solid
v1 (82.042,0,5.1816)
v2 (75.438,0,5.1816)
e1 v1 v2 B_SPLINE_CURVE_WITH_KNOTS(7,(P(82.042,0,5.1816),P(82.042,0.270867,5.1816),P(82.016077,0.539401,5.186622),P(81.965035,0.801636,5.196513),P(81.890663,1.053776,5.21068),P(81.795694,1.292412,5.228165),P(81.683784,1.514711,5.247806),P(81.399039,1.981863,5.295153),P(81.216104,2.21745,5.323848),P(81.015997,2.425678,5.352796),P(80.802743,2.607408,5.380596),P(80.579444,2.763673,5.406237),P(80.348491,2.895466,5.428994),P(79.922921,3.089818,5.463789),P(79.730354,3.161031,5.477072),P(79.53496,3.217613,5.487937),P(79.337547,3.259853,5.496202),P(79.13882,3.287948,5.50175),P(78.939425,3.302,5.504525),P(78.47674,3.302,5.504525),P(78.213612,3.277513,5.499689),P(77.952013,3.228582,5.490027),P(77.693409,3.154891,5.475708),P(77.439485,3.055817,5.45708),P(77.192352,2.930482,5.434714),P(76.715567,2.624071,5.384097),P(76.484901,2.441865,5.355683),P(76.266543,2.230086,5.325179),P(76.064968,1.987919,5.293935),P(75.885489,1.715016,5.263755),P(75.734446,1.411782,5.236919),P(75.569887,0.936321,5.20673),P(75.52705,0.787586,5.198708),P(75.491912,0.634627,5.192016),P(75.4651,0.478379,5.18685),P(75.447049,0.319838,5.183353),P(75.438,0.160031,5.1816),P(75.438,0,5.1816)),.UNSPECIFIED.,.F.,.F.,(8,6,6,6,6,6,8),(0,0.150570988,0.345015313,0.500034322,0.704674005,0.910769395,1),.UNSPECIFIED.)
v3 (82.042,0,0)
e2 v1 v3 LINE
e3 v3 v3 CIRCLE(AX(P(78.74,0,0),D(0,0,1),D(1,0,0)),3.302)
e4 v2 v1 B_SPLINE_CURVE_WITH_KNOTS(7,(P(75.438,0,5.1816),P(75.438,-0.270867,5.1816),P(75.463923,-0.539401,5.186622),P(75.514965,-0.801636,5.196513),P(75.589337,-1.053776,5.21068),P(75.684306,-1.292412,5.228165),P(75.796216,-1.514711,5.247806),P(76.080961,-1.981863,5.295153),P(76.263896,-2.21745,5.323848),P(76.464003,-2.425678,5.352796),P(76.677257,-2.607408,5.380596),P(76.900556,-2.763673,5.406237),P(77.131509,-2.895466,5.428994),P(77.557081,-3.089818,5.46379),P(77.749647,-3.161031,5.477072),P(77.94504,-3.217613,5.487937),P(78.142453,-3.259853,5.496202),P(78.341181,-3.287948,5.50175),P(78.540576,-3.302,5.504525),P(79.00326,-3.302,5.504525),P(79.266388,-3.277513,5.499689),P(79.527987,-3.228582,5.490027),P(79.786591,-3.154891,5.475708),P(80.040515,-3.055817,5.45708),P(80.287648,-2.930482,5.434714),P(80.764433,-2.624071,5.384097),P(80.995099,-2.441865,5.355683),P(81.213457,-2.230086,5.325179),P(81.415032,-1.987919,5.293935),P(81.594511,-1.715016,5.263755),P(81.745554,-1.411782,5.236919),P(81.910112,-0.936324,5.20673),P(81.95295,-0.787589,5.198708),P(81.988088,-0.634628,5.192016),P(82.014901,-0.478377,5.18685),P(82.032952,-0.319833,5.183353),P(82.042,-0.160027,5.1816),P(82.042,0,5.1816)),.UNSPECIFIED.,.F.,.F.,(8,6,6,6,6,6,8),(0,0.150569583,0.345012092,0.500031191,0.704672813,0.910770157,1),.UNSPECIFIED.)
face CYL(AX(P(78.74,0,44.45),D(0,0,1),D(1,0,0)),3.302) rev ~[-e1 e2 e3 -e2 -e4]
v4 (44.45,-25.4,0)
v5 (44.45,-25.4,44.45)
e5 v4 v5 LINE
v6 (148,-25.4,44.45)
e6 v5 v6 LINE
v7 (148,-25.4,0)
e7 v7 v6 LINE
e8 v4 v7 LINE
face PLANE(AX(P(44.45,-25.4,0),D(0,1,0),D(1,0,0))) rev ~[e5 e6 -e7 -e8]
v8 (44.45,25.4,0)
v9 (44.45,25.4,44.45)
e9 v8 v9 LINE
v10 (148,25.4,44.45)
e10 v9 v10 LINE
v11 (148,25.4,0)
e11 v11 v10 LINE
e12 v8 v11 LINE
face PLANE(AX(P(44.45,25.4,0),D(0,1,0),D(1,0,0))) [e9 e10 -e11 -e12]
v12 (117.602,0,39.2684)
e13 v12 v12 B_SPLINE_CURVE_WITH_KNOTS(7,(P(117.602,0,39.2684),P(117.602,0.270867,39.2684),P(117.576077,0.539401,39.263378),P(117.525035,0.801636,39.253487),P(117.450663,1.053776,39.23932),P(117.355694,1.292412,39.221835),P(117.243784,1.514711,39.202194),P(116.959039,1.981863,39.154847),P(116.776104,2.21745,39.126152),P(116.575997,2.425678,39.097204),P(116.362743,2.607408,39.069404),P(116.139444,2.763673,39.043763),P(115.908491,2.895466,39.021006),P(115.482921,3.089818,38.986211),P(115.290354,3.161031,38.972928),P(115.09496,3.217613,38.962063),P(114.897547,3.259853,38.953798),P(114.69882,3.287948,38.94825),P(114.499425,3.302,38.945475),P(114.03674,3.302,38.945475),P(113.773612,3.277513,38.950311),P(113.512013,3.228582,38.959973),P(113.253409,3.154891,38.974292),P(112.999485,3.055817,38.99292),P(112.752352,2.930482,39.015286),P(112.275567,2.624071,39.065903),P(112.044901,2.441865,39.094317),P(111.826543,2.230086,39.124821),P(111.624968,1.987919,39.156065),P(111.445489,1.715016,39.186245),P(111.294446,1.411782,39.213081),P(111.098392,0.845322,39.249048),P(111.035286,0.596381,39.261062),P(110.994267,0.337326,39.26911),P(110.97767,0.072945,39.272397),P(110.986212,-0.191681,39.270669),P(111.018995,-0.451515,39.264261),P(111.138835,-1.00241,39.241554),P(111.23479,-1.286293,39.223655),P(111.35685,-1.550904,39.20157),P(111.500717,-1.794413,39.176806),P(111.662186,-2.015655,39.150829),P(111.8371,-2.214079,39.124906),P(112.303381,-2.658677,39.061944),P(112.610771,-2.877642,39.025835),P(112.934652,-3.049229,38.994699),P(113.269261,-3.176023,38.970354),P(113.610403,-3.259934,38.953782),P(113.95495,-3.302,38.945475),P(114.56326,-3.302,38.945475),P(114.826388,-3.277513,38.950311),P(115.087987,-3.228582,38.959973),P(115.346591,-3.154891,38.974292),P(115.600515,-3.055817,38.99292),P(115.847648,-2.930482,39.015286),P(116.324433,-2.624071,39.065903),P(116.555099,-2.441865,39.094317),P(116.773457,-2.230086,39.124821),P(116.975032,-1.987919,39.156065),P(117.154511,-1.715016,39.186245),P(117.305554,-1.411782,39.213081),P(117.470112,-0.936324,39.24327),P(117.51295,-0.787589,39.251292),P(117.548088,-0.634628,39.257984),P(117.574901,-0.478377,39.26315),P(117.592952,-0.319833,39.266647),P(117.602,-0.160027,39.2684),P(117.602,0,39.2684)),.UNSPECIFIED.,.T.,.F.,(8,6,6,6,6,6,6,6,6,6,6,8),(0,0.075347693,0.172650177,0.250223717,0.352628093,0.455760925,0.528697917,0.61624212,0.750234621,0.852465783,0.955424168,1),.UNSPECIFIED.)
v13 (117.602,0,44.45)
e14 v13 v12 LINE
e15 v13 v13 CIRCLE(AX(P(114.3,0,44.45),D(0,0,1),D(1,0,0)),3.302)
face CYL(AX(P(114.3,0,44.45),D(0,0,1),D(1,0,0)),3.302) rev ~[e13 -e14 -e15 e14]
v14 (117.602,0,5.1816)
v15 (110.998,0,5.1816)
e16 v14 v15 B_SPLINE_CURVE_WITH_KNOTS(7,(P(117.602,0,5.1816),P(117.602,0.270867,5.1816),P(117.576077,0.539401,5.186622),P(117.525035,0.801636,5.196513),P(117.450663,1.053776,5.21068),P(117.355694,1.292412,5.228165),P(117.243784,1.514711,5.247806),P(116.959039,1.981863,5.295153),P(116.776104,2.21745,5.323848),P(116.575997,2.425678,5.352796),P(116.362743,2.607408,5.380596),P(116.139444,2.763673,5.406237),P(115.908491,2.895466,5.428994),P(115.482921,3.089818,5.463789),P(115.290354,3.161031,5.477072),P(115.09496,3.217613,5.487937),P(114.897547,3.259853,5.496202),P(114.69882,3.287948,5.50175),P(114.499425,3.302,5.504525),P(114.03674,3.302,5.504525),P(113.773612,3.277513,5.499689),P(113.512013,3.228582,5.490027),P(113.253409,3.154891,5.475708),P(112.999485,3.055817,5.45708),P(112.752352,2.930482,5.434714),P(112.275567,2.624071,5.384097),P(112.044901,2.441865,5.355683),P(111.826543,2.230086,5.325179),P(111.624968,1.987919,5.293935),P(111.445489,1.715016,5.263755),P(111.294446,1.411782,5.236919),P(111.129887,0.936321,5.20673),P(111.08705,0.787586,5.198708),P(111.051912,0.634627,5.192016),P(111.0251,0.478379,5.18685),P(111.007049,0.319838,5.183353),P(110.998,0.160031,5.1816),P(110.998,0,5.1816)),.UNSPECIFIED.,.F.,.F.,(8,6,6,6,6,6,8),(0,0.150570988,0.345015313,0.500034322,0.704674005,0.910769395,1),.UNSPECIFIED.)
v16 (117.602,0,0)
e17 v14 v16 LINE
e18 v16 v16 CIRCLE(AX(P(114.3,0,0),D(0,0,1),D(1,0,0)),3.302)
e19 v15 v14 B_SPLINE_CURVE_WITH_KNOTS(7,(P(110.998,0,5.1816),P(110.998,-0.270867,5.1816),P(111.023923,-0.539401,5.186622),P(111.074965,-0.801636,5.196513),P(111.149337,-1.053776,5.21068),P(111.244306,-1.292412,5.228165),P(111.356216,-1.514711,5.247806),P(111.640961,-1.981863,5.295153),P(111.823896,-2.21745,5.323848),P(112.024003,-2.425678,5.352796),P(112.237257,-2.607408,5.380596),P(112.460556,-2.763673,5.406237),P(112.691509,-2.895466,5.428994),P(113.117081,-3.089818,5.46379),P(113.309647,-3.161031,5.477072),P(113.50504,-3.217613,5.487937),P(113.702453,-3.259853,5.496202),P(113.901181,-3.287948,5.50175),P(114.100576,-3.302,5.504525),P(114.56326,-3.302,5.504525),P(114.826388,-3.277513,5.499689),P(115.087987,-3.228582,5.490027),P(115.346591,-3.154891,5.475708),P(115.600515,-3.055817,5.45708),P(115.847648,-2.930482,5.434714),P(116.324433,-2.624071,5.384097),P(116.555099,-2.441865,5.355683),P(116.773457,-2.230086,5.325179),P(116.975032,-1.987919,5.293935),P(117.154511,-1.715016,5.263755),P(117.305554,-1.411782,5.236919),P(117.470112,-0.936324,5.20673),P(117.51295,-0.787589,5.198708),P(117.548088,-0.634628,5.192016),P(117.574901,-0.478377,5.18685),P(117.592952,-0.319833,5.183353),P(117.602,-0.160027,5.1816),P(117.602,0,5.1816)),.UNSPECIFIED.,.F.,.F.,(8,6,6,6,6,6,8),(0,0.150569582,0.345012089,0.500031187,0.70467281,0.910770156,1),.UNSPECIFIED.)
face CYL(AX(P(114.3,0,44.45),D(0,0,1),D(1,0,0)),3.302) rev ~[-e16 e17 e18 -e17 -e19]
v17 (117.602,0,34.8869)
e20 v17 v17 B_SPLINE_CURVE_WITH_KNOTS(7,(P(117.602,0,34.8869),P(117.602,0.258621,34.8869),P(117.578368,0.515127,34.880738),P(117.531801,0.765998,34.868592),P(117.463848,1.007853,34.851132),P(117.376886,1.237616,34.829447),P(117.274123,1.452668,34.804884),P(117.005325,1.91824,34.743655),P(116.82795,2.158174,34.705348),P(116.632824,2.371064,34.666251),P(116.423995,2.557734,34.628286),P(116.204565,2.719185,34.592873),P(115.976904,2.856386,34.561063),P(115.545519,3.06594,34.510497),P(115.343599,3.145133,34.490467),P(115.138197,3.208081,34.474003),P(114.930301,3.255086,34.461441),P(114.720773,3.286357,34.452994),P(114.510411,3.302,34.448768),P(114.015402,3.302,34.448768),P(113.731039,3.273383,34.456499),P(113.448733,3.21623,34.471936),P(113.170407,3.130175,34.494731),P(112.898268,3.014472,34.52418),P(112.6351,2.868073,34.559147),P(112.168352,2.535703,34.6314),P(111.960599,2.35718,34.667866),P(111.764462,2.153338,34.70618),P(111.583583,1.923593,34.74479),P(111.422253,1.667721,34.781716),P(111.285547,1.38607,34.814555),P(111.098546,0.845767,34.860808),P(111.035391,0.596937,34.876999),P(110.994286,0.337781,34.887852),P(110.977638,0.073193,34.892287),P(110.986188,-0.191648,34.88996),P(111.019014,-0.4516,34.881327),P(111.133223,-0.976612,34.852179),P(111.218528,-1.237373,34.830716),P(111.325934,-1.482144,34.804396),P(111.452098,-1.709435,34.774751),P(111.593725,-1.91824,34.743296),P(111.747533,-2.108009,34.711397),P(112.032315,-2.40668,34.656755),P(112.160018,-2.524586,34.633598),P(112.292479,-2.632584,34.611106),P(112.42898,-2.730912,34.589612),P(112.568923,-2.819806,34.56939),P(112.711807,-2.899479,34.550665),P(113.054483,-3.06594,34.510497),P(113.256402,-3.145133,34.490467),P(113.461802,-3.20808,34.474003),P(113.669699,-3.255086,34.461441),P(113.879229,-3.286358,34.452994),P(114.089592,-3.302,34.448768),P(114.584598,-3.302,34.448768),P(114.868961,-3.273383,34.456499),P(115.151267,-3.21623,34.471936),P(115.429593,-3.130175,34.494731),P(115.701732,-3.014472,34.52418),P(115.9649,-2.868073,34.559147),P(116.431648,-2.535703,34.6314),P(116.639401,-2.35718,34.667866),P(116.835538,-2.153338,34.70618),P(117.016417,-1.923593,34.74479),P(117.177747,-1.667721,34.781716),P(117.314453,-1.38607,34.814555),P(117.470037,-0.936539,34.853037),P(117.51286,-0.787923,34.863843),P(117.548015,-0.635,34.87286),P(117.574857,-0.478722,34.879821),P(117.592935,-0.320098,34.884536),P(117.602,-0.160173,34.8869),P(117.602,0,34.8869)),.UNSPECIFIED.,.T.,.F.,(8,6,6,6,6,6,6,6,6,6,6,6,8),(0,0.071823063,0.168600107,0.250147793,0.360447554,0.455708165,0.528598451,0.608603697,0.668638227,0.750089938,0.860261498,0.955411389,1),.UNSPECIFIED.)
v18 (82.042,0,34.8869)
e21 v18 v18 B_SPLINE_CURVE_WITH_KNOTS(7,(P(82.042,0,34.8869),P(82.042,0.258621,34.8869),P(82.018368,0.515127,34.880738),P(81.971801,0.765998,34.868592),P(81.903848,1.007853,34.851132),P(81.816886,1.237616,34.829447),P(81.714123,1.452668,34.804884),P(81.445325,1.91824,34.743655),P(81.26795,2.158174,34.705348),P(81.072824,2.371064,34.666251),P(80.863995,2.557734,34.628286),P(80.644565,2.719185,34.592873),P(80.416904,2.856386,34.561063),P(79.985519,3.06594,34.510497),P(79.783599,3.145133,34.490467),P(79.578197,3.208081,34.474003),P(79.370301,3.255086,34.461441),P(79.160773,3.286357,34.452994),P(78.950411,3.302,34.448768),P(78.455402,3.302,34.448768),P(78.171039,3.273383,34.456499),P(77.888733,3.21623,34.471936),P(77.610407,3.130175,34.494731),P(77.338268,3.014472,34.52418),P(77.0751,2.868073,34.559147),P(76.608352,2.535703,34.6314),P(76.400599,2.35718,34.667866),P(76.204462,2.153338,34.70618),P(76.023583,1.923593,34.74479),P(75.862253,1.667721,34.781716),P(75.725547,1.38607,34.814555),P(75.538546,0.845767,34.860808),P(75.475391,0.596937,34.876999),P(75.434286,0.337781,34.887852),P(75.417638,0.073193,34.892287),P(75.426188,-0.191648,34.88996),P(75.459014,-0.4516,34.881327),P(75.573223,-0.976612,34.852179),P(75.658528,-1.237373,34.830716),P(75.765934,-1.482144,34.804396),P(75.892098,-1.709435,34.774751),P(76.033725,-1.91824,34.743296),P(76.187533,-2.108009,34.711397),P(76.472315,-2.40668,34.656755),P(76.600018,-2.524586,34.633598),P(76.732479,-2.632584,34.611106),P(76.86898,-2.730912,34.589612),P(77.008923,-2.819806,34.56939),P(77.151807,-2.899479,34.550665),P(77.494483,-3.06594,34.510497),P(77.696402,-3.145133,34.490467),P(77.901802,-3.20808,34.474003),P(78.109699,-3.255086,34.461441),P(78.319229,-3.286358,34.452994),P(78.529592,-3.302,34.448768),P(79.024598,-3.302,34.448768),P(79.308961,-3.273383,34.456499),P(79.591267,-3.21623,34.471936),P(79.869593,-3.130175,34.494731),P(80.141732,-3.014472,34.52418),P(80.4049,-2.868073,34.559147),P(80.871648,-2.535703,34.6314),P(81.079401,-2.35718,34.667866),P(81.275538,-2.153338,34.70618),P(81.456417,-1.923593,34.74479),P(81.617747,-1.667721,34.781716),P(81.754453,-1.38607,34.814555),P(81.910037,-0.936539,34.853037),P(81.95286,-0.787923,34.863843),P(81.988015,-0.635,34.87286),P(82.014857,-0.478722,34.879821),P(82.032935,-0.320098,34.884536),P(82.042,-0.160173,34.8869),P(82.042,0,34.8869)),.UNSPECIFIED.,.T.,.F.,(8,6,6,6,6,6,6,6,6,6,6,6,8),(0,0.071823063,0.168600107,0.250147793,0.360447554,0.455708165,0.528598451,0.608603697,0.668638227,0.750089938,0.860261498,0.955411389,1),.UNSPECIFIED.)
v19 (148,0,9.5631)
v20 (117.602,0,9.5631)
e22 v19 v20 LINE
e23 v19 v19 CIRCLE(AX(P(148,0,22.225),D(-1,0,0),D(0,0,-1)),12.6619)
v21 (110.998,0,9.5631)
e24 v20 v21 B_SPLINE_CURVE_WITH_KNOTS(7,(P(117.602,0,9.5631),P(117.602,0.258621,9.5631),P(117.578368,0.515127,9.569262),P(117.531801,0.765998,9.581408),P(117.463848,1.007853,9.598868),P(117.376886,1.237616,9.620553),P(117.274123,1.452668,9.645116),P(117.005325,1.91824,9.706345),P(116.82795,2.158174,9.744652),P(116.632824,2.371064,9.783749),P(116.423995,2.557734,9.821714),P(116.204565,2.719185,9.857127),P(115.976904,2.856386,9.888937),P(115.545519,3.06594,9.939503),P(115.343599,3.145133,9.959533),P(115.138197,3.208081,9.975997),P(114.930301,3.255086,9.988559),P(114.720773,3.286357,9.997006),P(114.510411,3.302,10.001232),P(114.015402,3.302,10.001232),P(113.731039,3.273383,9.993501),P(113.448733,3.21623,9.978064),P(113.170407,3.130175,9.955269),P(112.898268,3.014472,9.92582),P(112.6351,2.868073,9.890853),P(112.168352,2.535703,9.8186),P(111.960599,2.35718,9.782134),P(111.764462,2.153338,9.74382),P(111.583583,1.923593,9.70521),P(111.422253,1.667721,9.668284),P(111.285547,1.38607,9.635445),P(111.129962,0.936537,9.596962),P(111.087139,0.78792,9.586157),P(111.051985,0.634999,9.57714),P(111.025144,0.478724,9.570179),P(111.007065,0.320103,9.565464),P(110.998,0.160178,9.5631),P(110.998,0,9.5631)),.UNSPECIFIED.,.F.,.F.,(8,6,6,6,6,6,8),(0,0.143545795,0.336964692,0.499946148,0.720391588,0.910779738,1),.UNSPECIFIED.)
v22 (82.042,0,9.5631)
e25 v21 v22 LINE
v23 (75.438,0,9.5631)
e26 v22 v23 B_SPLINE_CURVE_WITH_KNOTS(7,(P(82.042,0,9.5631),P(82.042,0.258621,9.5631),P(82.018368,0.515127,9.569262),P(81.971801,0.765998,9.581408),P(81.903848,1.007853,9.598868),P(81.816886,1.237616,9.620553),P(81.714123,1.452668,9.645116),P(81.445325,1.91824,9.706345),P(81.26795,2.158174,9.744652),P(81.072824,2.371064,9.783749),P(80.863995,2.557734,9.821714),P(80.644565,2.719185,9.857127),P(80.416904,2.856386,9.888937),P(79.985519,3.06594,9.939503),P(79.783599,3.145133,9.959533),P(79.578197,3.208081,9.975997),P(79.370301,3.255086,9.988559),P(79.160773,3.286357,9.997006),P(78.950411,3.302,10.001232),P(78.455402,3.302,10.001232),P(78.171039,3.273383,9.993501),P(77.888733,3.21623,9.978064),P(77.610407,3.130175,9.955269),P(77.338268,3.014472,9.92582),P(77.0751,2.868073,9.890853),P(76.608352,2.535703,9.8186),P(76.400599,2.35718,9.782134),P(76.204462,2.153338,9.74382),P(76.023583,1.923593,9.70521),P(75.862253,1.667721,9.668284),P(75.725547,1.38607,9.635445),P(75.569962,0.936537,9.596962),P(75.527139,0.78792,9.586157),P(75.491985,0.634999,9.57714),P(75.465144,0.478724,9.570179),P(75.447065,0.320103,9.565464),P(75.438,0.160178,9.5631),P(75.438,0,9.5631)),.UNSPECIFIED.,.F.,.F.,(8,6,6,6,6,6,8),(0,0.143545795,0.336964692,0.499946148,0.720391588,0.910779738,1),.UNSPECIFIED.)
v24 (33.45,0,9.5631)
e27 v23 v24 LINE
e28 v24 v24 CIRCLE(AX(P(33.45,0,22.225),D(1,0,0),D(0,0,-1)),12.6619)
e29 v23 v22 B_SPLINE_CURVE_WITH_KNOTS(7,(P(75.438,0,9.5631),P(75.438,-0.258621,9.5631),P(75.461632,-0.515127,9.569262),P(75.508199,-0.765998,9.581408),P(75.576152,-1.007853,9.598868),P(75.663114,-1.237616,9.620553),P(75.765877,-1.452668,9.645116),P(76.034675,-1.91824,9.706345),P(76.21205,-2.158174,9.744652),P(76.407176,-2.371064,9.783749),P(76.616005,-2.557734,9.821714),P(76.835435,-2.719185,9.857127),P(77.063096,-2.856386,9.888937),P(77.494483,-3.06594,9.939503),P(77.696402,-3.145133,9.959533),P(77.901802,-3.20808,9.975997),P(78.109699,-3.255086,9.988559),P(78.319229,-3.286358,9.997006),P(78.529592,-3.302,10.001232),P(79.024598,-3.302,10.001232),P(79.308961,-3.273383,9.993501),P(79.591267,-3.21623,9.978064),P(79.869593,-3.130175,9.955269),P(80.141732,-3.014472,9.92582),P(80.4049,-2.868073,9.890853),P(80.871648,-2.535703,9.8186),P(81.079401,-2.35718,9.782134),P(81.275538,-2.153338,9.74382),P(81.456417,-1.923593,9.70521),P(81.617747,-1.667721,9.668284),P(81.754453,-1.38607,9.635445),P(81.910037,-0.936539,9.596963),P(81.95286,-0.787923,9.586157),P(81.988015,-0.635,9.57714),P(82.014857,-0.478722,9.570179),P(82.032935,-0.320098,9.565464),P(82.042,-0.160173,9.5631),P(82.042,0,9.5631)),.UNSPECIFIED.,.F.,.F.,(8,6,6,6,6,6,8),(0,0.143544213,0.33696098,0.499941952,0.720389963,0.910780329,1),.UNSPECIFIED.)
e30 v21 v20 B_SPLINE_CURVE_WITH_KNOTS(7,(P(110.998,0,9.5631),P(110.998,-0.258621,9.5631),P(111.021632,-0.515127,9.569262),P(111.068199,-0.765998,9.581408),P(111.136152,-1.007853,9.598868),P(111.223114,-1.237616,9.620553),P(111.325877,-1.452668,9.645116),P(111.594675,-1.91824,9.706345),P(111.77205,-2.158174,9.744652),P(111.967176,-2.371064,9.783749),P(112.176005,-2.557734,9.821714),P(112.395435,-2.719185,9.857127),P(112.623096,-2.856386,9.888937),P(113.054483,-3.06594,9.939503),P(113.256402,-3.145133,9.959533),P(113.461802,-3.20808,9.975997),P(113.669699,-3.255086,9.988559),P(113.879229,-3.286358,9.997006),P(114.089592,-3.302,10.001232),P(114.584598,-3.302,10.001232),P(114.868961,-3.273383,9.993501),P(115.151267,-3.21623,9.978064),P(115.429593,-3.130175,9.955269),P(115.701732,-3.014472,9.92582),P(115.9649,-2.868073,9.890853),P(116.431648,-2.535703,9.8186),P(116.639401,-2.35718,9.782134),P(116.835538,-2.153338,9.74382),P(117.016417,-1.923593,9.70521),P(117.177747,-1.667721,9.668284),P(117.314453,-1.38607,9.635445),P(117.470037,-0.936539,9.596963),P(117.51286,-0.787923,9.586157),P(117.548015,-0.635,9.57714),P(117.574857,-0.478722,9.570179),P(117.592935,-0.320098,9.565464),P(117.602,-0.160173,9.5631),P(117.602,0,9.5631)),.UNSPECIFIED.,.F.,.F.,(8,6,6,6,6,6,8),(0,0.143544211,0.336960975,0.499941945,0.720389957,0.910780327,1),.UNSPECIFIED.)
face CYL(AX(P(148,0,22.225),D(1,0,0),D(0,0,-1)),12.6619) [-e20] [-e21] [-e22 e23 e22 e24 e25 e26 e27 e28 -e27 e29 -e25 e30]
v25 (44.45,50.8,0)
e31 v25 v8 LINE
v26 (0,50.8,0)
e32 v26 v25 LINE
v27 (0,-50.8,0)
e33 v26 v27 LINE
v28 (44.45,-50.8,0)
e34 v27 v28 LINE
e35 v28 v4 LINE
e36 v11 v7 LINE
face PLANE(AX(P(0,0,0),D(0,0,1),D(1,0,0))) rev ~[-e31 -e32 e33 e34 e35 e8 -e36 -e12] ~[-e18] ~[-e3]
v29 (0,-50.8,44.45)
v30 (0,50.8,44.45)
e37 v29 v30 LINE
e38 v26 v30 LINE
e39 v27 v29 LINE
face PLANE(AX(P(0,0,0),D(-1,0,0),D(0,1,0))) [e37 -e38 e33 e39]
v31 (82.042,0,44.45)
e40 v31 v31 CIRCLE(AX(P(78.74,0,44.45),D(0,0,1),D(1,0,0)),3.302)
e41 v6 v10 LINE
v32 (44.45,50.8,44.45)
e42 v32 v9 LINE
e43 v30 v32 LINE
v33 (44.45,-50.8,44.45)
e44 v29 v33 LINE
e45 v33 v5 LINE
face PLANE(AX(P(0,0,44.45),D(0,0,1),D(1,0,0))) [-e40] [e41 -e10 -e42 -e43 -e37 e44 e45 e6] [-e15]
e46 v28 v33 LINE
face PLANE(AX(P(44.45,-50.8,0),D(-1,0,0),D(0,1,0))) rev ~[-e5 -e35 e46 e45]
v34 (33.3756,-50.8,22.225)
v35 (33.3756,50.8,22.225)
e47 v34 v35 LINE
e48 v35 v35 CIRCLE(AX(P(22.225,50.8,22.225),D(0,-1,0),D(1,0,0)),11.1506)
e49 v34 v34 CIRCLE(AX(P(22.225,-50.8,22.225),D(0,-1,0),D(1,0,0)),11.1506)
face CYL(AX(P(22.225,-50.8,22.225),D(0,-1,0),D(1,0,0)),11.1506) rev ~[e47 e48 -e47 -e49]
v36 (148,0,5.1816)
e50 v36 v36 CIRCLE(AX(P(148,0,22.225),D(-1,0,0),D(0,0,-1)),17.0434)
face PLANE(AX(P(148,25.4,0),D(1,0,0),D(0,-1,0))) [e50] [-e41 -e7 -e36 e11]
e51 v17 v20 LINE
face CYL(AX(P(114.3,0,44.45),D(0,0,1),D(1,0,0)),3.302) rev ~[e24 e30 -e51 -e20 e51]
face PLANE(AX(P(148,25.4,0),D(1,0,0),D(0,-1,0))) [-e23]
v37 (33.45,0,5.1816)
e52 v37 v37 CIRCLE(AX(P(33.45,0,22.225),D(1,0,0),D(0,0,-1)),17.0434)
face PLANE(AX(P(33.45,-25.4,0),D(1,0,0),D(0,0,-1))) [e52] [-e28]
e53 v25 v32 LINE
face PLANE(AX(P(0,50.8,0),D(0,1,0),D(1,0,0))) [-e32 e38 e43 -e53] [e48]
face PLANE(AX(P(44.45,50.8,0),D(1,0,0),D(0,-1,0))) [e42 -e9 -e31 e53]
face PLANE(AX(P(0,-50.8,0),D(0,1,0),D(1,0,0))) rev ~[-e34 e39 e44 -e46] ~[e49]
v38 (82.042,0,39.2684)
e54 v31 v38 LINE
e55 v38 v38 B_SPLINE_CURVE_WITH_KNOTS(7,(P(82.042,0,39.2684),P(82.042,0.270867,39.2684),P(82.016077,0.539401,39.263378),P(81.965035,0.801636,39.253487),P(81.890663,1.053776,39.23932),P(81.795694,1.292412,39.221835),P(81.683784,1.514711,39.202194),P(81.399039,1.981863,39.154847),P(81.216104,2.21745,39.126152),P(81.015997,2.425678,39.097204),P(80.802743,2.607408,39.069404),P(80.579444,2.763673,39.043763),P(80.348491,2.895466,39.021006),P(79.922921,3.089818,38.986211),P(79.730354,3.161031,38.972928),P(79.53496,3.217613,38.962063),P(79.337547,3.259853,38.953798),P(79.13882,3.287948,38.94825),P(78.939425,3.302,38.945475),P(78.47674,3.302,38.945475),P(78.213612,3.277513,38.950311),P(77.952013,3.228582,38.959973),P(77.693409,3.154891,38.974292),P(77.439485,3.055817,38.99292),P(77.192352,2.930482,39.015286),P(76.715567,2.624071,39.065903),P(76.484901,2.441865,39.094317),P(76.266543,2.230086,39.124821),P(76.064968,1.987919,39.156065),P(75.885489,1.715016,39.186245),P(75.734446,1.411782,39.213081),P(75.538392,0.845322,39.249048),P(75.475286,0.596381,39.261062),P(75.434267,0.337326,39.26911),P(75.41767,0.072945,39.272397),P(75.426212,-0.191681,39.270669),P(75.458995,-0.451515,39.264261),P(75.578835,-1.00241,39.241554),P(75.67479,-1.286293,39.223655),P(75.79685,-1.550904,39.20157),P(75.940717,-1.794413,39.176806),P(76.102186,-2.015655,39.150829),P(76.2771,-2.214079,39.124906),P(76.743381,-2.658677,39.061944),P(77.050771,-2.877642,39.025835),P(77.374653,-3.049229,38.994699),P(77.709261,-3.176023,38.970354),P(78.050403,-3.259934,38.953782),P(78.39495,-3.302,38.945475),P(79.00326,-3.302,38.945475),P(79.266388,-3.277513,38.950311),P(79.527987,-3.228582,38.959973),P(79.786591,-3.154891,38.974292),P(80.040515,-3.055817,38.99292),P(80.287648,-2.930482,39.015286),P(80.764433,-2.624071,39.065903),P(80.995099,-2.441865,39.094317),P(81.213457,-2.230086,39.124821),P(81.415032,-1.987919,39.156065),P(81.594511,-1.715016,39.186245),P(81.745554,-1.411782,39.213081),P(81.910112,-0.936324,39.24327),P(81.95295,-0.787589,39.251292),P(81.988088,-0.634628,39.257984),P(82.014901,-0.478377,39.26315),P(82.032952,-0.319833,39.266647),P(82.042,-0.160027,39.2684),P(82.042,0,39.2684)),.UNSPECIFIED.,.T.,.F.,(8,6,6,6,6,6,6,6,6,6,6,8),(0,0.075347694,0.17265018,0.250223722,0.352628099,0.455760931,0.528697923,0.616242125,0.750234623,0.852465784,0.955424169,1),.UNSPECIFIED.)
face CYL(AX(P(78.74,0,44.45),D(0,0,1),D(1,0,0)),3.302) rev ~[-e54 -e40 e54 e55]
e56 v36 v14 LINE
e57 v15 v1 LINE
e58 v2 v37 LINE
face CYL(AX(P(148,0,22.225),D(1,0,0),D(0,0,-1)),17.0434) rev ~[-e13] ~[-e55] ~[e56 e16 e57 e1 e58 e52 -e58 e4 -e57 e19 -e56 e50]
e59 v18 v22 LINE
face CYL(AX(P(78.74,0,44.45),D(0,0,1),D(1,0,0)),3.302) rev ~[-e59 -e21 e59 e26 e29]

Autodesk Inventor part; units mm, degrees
ref_plane "YZ Plane" through (0, 0, 0) normal (1, 0, 0) x (0, 1, 0)
ref_plane "XZ Plane" through (0, 0, 0) normal (0, 1, 0) x (-1, 0, 0)
sketch "Base for Part" plane through (0, 0, 0) normal (0, 0, 1) x (1, 0, 0)
  line L0 (0, 0) -> (148, 0) construction
  line L1 (0, 0) -> (0, 50.8)
  line L2 (0, 50.8) -> (44.45, 50.8)
  line L3 (148, -29.2) -> (148, 0)
  line L4 (44.45, 50.8) -> (44.45, 25.4)
  line L5 (44.45, 25.4) -> (148, 25.4)
  line L6 (148, 25.4) -> (148, 0)
  line L7 (0, 0) -> (0, -50.8)
  line L8 (0, -50.8) -> (44.45, -50.8)
  line L9 (44.45, -50.8) -> (44.45, -25.4)
  line L10 (44.45, -25.4) -> (148, -25.4)
  line L11 (148, -25.4) -> (148, 0)
  dimension "d0" = 148
  dimension "d1" = 50.8
  dimension "d2" = 44.45
  dimension "d3" = 25.4
extrude "Extrusion of Base" add sketch "Base for Part" along normal blind 44.45
sketch "Sketch for 1 inch PVC" plane through (148, -25.4, 0) normal (1, 0, 0) x (0, 0, -1)
  line L0 (0, 50.8) -> (-44.45, 50.8) projected
  line L1 (-44.45, 0) -> (-44.45, 50.8) projected
  line L2 (0, 0) -> (-44.45, 0) projected
  line L3 (-44.45, 25.4) -> (0, 25.4) construction
  line L4 (-22.225, 50.8) -> (-22.225, 0) construction
  circle A0 centre (-22.225, 25.4) radius 12.6619
  circle A1 centre (-22.225, 25.4) radius 17.0434
  dimension "d6" = 34.0868
  dimension "d7" = 25.3238
extrude "Extrusion for 1 inch PVC" cut sketch "Sketch for 1 inch PVC" against normal blind 114.55
sketch "Sketch of Base Hole" plane through (0, -50.8, 0) normal (0, -1, 0) x (1, 0, 0)
  line L0 (44.45, 0) -> (0, 0) projected
  line L1 (44.45, 0) -> (44.45, 44.45) projected
  line L2 (0, 44.45) -> (44.45, 44.45) projected
  line L3 (0, 0) -> (0, 44.45) projected
  line L4 (0, 22.225) -> (44.45, 22.225) construction
  line L5 (22.225, 44.45) -> (22.225, 0) construction
  circle A0 centre (22.225, 22.225) radius 11.1506
  dimension "d10" = 22.3012
extrude "Extrusion3" cut sketch "Sketch of Base Hole" against normal through all contours A0
ref_plane "Work Plane1" through (0, 0, 44.45) normal (0, 0, 1) x (1, 0, 0)
sketch "Sketch9" plane through (0, 0, 44.45) normal (0, 0, 1) x (1, 0, 0)
  circle A0 centre (78.74, 0) radius 3.302
  circle A1 centre (114.3, 0) radius 3.302
  line L0 (149.86, 19.05) -> (149.86, -19.05) projected
  point P0 (0, 0)
  dimension "d39" = 6.604
  dimension "d42" = 35.56
  dimension "d43" = 71.12
extrude "Extrusion6" cut sketch "Sketch9" against normal through all
properties part number "WagonHandleV01"
